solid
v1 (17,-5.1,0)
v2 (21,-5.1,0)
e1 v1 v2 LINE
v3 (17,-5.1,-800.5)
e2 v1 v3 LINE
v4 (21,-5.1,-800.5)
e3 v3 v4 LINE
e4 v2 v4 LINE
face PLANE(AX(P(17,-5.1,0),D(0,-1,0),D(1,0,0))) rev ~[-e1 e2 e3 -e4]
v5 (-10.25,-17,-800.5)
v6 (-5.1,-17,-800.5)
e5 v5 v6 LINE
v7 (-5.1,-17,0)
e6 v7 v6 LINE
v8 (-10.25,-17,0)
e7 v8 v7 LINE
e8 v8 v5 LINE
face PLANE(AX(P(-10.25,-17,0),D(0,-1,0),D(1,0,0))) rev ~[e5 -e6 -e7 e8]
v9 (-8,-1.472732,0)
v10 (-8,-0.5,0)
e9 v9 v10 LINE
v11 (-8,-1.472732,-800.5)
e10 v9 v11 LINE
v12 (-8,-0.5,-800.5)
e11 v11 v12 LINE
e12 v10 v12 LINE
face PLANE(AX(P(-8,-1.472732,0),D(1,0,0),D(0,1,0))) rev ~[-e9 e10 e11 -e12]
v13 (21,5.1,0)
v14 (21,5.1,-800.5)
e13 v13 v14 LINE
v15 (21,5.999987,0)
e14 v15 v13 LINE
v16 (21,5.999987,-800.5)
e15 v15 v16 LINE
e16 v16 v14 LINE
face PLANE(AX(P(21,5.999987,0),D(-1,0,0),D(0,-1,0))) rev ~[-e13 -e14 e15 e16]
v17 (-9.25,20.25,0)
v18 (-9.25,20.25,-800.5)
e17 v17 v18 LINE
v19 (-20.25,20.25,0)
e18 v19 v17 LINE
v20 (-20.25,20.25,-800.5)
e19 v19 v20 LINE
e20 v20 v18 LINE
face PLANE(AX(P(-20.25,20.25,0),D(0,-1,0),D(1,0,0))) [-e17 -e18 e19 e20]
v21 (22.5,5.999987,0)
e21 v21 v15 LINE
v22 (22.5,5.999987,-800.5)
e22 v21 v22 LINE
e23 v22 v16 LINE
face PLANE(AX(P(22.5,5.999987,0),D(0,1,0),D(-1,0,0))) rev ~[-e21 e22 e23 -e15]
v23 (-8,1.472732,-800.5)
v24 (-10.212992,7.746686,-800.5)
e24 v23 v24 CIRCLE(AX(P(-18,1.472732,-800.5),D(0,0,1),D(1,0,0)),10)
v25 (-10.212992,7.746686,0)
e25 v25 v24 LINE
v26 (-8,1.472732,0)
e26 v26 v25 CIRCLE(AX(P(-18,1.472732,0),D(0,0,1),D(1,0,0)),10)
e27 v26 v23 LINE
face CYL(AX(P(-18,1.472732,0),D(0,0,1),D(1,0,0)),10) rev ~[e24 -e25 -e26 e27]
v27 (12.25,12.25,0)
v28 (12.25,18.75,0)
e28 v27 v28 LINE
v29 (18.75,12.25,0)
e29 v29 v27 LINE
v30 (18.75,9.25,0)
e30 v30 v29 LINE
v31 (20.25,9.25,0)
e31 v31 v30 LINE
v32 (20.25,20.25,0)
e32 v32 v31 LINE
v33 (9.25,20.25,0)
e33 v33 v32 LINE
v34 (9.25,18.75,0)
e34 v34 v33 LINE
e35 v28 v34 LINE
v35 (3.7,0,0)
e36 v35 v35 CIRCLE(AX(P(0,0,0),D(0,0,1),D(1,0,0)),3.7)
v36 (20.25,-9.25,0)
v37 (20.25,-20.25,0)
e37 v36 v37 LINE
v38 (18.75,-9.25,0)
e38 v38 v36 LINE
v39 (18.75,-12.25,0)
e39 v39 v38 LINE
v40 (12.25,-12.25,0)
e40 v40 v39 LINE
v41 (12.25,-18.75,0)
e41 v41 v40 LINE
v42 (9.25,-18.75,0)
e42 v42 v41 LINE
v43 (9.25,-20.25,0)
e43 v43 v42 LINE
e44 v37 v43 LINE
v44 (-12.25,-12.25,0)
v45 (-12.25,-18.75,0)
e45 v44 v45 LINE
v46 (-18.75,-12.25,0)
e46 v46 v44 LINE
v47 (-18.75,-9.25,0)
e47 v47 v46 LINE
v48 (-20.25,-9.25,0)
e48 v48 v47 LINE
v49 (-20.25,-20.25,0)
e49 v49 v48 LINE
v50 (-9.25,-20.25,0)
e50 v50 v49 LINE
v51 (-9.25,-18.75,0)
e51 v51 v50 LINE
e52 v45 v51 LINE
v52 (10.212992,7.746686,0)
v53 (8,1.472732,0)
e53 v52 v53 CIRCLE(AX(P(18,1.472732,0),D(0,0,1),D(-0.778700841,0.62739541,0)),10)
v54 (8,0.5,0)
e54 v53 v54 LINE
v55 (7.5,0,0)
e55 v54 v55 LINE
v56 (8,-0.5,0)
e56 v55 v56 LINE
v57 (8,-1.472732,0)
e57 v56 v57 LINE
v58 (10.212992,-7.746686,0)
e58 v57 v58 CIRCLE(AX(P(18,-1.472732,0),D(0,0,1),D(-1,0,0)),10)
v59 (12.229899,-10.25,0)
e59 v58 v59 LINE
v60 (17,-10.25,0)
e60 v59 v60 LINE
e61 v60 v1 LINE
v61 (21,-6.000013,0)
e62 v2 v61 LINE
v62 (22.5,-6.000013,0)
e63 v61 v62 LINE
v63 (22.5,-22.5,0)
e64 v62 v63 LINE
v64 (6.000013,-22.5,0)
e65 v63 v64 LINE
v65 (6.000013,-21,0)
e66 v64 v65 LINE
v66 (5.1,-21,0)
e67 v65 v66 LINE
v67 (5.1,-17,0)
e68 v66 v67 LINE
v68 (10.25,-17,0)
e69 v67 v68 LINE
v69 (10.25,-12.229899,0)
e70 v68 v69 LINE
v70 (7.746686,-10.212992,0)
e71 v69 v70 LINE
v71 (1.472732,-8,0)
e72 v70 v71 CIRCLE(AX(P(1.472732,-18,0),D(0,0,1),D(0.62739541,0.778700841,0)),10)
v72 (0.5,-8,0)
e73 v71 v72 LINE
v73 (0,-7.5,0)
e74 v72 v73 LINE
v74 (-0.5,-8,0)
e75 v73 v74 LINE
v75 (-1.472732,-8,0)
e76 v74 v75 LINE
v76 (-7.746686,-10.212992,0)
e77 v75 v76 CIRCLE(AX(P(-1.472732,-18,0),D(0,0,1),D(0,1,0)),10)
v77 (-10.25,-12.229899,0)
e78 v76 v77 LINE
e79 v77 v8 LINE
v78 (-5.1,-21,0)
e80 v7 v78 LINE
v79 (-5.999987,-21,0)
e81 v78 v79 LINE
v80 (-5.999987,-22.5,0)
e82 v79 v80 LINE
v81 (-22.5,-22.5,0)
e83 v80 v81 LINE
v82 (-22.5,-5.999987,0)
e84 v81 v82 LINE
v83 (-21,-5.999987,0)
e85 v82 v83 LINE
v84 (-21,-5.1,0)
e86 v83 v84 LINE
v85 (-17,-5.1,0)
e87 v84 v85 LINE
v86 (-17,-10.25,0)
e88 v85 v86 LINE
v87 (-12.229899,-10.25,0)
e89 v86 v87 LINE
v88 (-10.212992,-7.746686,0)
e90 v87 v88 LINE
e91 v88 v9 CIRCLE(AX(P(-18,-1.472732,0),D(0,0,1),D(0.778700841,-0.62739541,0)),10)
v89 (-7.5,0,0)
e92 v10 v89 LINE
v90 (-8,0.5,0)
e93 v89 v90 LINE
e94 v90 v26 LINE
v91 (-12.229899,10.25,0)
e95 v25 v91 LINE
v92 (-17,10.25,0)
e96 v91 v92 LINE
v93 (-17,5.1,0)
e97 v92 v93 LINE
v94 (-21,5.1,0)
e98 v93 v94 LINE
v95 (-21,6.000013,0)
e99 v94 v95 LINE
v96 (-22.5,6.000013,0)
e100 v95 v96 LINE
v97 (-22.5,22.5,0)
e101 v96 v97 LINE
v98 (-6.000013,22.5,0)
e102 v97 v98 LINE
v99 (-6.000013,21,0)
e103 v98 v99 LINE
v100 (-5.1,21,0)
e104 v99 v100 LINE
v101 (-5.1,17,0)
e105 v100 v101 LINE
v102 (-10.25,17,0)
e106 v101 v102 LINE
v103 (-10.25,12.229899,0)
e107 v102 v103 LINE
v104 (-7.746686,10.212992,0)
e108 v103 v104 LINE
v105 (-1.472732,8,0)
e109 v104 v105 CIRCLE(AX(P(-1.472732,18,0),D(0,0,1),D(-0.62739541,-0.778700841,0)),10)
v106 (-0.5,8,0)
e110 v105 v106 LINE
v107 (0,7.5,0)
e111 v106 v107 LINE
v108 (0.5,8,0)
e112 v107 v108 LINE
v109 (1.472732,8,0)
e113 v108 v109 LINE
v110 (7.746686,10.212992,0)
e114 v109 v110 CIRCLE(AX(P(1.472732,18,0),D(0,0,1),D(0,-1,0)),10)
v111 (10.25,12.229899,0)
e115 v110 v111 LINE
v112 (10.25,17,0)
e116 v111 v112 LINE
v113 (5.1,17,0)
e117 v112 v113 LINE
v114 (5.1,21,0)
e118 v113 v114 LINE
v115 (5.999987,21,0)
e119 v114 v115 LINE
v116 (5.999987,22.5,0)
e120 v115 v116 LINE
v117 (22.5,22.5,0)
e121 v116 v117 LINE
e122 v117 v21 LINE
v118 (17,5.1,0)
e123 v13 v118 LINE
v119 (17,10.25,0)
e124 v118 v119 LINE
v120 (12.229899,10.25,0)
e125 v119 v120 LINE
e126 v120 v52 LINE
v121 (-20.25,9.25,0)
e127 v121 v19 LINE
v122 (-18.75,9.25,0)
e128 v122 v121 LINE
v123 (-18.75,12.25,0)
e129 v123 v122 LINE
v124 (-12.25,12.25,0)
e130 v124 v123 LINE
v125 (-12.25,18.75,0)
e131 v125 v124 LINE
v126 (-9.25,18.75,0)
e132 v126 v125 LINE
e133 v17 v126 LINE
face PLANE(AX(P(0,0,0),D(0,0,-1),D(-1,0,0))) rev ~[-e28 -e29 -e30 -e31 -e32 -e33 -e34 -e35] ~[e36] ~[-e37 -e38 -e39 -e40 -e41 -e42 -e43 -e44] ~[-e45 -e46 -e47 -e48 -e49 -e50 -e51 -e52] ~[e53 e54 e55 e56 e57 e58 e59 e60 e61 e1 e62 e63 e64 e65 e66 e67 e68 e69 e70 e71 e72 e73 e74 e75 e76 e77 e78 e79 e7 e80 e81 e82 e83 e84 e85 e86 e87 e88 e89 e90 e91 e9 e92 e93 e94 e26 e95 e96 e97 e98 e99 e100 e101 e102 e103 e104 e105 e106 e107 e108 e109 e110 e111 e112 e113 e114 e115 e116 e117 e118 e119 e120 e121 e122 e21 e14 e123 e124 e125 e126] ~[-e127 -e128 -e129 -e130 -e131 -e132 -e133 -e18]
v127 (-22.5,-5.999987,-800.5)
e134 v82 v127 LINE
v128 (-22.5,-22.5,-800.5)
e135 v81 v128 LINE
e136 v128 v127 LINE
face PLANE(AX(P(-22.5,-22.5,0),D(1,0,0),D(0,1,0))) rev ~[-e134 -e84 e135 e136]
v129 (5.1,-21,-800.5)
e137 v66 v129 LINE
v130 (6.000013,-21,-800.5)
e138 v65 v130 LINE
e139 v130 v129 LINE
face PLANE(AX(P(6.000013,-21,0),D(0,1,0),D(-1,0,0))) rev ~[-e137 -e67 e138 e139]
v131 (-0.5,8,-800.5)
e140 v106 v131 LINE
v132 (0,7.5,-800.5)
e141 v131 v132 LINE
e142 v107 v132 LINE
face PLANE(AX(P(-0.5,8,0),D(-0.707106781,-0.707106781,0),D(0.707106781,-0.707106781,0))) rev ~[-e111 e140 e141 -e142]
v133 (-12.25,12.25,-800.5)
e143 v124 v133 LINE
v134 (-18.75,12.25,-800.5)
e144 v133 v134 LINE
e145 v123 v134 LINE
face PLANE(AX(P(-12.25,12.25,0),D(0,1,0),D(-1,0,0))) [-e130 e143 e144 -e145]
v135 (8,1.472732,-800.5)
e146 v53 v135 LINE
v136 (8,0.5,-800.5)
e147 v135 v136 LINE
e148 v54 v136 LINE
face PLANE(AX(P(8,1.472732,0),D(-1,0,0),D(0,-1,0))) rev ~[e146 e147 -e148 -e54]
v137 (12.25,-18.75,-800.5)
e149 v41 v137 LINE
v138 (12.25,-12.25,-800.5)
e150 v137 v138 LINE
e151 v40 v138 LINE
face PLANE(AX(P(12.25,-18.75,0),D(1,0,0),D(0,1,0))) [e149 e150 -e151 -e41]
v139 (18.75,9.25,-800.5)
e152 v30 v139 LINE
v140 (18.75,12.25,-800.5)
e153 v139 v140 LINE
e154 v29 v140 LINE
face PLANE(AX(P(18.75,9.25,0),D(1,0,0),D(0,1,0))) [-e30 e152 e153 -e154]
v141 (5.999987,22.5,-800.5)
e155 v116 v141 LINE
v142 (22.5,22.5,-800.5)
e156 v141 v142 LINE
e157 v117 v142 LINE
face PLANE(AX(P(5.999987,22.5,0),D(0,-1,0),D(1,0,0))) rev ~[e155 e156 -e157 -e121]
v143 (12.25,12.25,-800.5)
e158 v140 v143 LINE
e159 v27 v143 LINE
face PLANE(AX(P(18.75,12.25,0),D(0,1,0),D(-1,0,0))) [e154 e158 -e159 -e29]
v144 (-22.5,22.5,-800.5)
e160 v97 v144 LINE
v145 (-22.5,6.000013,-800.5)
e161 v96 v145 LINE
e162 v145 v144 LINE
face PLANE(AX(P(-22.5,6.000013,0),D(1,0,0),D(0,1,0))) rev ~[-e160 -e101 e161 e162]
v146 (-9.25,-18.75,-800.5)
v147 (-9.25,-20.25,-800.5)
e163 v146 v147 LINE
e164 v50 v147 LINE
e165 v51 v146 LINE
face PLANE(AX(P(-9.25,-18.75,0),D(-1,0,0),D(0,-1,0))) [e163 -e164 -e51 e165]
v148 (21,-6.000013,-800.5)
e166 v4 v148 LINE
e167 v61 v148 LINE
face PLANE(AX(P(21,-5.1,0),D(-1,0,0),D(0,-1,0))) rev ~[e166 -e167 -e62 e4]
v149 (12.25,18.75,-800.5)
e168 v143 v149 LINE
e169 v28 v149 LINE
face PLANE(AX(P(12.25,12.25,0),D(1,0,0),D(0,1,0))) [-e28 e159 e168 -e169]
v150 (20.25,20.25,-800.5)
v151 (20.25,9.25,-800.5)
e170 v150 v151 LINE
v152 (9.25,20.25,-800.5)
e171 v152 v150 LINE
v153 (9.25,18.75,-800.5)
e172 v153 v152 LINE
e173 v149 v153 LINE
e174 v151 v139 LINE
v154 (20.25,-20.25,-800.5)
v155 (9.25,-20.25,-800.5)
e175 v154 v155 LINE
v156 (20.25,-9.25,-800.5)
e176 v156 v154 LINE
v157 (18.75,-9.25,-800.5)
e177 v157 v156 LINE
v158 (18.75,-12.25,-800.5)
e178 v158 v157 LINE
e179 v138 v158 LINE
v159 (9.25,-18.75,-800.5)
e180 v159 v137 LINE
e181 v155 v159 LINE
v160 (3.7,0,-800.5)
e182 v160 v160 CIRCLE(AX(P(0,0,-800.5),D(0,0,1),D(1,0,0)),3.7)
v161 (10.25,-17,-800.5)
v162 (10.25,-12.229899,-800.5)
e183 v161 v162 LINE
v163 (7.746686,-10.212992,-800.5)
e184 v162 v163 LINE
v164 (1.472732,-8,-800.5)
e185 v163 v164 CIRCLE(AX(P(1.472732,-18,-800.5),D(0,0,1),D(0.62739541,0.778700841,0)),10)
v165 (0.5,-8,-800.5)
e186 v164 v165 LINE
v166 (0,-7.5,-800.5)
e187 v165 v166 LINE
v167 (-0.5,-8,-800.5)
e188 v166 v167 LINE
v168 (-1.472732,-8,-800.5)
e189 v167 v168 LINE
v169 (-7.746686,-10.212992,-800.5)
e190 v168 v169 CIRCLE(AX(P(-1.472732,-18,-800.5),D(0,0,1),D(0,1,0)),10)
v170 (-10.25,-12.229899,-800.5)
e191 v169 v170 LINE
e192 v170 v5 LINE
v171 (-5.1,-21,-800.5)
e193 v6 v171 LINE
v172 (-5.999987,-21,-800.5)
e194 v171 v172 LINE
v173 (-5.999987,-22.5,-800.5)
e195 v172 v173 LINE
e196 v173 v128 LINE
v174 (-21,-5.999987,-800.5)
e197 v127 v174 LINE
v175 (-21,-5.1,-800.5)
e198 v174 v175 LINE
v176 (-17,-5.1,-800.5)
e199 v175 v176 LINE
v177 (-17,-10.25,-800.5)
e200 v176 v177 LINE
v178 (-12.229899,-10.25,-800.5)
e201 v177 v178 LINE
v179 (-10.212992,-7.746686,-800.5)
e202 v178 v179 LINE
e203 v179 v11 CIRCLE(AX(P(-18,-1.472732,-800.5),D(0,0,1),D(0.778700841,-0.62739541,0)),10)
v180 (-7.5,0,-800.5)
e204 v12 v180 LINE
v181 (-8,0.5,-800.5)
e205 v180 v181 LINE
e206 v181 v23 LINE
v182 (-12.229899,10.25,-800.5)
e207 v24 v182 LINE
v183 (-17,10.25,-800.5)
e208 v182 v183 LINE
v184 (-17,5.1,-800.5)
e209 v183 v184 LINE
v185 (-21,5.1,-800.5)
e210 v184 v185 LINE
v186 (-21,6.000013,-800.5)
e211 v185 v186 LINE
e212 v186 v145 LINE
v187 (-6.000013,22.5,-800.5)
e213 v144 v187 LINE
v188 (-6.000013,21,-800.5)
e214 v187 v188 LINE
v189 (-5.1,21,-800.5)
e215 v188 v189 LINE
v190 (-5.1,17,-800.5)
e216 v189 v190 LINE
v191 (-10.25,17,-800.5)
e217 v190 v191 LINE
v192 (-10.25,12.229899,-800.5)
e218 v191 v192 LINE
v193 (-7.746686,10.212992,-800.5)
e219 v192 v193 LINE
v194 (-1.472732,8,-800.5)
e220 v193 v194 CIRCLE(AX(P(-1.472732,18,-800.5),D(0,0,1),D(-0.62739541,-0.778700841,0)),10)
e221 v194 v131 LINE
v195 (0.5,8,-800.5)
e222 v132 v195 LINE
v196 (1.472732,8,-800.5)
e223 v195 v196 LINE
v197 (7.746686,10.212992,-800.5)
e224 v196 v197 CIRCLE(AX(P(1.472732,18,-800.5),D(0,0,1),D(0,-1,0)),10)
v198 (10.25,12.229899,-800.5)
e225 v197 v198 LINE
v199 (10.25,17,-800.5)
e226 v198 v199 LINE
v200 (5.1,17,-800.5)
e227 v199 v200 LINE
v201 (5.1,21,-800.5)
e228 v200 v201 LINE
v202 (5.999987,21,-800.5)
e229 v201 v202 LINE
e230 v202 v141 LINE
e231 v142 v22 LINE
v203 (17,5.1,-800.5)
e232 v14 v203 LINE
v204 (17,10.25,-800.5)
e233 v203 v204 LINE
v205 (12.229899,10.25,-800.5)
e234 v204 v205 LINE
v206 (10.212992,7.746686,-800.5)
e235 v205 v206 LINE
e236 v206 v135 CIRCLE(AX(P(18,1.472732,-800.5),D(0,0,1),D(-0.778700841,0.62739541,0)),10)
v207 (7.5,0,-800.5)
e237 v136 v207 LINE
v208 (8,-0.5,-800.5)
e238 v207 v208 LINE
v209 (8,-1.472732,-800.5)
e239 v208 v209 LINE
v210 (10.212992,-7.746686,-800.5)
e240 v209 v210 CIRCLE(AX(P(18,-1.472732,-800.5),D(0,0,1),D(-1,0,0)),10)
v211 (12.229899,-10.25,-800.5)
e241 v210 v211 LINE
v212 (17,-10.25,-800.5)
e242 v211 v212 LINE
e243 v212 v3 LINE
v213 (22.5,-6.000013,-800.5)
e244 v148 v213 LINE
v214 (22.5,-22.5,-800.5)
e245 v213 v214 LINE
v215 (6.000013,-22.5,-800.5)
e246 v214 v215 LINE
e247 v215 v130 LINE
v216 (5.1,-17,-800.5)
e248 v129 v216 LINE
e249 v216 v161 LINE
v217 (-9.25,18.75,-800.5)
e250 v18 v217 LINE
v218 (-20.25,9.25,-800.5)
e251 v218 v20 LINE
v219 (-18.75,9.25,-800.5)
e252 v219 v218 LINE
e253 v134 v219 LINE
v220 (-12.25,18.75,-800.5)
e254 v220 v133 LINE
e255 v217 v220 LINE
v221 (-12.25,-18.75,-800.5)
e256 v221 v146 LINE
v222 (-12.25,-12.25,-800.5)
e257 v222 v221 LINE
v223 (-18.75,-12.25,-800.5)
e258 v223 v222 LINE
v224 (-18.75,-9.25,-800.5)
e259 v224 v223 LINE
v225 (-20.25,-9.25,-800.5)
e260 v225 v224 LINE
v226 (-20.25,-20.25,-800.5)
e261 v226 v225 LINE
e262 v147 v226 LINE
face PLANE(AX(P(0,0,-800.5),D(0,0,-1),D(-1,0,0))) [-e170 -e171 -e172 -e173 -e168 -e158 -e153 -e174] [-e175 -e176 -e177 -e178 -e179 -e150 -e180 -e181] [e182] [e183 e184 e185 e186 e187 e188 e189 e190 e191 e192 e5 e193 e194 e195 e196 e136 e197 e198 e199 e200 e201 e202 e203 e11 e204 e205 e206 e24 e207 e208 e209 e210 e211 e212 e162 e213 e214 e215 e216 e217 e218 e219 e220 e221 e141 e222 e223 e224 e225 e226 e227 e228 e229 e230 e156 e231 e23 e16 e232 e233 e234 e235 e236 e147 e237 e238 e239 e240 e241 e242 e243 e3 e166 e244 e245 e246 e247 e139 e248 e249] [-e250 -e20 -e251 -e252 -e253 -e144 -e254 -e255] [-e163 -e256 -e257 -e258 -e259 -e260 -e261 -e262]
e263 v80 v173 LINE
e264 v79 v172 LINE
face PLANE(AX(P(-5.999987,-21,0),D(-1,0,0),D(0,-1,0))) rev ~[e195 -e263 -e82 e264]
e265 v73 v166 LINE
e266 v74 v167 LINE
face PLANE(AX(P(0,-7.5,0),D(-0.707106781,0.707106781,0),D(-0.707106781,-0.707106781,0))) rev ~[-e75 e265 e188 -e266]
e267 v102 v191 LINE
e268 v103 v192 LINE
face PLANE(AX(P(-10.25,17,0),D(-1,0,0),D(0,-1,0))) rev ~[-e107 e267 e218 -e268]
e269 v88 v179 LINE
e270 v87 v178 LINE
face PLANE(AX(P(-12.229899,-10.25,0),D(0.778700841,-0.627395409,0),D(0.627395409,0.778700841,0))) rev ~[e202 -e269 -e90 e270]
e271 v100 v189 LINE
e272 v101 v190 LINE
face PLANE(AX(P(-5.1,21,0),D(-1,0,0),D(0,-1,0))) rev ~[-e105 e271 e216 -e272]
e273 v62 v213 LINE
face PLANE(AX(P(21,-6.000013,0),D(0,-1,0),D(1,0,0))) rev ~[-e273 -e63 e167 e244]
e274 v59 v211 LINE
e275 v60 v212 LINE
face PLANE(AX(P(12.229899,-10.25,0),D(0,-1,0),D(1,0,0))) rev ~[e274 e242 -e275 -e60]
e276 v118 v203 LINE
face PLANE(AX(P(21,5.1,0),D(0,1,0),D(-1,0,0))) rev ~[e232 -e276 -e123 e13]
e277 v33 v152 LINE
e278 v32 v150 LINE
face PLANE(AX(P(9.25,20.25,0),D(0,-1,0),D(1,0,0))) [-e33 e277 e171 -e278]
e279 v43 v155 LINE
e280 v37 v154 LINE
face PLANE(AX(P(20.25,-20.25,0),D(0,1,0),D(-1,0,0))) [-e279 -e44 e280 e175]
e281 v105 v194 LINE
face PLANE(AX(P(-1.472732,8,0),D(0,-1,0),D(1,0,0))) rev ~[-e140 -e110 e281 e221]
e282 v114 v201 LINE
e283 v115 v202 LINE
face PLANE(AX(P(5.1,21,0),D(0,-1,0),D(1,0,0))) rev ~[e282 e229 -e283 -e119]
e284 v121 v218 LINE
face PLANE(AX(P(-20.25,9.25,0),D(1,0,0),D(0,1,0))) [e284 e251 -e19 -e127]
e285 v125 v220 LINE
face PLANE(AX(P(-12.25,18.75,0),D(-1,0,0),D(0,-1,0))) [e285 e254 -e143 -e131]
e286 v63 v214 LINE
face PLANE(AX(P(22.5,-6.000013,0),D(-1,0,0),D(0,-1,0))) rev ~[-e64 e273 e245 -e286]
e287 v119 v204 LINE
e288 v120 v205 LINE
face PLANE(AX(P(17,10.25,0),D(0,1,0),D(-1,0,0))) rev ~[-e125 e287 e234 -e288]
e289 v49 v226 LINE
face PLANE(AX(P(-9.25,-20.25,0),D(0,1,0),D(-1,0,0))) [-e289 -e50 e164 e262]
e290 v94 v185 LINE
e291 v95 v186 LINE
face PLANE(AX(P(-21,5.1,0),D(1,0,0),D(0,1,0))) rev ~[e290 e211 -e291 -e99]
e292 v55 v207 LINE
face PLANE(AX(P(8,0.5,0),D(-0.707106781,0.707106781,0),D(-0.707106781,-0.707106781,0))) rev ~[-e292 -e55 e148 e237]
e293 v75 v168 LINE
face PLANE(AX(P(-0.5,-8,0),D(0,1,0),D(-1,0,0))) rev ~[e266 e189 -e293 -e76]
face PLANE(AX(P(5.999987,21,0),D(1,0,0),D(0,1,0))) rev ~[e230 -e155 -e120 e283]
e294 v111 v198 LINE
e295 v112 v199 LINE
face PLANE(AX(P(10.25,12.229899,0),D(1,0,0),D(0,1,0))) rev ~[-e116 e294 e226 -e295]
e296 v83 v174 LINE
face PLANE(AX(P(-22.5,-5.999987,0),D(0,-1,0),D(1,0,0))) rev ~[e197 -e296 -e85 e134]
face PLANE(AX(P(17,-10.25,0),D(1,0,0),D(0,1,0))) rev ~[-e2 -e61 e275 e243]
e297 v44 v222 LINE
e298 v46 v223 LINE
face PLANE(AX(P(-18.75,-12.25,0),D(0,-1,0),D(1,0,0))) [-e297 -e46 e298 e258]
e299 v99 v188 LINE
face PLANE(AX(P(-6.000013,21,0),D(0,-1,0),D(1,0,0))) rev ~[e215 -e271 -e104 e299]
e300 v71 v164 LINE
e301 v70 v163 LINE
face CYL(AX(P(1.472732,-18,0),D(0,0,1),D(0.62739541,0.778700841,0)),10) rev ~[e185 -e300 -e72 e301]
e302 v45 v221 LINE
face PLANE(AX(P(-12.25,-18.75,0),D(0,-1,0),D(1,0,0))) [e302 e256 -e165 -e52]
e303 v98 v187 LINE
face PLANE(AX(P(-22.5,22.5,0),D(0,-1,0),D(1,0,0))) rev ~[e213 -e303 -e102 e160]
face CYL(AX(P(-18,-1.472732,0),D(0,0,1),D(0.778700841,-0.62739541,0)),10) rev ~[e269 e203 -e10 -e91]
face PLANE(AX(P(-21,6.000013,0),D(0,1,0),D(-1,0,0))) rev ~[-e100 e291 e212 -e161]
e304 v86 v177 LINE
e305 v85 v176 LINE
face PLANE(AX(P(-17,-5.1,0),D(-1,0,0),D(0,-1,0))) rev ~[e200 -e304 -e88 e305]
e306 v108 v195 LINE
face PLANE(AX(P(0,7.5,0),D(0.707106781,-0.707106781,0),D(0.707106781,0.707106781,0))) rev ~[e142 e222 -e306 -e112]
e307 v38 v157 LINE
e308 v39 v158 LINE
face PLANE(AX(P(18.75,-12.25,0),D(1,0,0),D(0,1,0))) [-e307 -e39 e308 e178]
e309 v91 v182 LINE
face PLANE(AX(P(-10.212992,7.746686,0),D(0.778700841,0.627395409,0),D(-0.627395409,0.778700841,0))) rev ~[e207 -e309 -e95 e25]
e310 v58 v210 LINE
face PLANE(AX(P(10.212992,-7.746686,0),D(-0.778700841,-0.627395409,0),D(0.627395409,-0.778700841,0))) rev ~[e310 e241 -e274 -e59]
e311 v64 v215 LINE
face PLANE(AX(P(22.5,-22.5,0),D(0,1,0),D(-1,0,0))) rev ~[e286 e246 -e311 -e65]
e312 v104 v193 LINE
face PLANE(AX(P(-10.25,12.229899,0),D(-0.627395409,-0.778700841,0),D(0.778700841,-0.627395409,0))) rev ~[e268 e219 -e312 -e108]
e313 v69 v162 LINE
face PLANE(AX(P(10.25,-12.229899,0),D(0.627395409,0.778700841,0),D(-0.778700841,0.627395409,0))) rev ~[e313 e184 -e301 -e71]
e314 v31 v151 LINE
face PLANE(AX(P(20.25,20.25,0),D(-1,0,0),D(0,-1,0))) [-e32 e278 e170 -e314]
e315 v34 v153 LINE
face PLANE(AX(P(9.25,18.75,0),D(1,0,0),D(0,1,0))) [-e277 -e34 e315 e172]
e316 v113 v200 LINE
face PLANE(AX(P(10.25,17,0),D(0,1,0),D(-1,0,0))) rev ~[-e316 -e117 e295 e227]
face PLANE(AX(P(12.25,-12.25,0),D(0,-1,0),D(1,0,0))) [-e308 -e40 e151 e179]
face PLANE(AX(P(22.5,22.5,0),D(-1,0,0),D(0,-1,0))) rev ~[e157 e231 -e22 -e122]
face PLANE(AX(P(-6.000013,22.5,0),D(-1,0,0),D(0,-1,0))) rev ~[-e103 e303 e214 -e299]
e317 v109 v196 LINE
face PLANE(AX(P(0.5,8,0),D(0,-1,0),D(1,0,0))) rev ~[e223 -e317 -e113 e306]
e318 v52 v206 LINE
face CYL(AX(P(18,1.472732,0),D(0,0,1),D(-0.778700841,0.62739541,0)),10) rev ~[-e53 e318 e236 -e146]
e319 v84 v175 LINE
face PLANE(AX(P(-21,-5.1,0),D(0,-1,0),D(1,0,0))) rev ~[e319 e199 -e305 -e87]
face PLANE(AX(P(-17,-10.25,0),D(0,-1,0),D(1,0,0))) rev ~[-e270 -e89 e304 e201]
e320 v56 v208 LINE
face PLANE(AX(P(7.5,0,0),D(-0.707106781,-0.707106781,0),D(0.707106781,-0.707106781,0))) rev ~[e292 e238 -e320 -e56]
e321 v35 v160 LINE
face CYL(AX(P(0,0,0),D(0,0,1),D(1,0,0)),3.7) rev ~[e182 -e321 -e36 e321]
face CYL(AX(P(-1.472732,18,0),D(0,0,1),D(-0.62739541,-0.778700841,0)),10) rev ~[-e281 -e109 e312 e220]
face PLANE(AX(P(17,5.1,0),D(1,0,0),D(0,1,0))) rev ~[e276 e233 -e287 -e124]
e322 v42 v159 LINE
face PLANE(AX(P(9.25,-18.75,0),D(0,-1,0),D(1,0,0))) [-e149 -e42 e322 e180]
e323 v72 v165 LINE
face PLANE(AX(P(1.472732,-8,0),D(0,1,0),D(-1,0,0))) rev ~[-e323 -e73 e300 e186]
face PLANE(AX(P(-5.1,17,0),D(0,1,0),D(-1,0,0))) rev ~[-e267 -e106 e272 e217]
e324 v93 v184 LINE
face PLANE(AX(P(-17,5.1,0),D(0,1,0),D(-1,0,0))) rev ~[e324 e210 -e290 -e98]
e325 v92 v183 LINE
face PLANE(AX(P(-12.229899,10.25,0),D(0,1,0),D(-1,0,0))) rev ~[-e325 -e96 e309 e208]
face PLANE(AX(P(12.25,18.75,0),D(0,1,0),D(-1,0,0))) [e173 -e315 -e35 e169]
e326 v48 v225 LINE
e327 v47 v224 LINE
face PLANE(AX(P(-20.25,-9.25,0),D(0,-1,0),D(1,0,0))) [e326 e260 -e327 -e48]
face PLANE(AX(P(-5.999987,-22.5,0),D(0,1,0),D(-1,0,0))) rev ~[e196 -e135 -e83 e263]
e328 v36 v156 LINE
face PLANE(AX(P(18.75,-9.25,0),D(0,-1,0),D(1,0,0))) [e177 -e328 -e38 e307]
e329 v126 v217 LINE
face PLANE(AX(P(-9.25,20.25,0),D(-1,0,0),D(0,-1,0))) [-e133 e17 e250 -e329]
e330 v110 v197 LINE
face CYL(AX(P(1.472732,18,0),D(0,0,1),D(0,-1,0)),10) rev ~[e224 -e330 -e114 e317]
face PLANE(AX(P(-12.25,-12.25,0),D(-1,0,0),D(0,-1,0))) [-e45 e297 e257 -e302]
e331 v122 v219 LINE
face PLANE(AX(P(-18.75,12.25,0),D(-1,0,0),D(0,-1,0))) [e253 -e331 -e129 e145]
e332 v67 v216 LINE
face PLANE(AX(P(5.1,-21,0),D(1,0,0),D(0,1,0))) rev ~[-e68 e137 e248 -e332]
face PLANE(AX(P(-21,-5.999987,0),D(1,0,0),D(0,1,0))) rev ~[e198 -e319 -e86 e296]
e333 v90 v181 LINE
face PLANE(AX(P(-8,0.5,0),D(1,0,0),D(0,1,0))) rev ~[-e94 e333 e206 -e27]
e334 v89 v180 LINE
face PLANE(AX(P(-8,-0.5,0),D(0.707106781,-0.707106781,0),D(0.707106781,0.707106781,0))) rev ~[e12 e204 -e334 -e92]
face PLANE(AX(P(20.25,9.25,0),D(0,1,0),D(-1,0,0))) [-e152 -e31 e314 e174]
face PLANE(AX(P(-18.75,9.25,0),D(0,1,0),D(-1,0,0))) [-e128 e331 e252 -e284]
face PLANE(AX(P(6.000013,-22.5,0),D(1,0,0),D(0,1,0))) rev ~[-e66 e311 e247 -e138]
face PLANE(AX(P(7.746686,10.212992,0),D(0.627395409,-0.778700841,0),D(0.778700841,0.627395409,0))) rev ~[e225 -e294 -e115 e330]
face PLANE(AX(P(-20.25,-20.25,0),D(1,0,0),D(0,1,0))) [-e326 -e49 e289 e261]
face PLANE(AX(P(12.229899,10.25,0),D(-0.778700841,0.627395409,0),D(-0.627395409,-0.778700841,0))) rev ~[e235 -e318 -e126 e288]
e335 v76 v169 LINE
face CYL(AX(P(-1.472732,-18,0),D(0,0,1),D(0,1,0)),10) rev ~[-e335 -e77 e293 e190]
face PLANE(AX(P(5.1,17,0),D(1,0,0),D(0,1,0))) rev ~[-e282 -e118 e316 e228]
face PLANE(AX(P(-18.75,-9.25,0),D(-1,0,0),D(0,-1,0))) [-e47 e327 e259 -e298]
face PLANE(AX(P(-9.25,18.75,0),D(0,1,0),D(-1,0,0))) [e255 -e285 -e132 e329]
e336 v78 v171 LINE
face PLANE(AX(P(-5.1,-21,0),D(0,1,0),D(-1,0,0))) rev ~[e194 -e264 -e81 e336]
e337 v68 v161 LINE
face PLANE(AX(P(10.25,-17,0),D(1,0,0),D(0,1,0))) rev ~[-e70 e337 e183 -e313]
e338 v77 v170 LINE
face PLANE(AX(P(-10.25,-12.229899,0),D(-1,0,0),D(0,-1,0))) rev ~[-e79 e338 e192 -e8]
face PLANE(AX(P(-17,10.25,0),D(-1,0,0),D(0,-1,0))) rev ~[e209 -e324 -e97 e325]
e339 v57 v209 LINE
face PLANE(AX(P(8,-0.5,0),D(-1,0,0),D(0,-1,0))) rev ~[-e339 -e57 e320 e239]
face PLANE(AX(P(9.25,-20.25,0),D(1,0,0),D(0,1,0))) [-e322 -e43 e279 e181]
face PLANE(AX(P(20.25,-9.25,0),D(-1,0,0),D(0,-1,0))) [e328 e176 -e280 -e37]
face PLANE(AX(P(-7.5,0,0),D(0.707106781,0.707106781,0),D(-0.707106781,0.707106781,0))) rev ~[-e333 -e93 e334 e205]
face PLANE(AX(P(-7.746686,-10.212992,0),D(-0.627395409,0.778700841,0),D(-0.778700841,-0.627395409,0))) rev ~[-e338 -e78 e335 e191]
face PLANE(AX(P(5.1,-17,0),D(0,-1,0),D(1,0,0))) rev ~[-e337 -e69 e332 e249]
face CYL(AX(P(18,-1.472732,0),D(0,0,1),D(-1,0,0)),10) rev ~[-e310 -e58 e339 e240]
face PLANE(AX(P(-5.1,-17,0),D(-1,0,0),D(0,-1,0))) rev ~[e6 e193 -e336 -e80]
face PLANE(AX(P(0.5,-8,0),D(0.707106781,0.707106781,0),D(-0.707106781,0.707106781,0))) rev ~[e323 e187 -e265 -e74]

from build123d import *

# Parameters (mm, degrees)
MODEL_R             = 3.7
BOSS_EXTRUDE1_DEPTH = 800.5


with BuildPart() as part:
    # Model → Boss-Extrude1 (new body)
    with BuildSketch(Plane.XY):
        with BuildLine():
            Line((0.5, 8), (1.472732261, 8))
            ThreePointArc((1.472732261, 8), (4.799135414, 8.56946226), (7.746686356, 10.212991588))
            Line((7.746686356, 10.212991588), (10.25, 12.229898987))
            Line((10.25, 12.229898987), (10.25, 17))
            Line((10.25, 17), (5.1, 17))
            Line((5.1, 17), (5.1, 21))
            Line((5.1, 21), (5.999986755, 21))
            Line((5.999986755, 21), (5.999986755, 22.5))
            Line((5.999986755, 22.5), (22.5, 22.5))
            Line((22.5, 22.5), (22.5, 5.999986755))
            Line((22.5, 5.999986755), (21, 5.999986755))
            Line((21, 5.999986755), (21, 5.1))
            Line((21, 5.1), (17, 5.1))
            Line((17, 5.1), (17, 10.25))
            Line((17, 10.25), (12.229898987, 10.25))
            Line((12.229898987, 10.25), (10.212991588, 7.746686356))
            ThreePointArc((10.212991588, 7.746686356), (8.56946226, 4.799135414), (8, 1.472732261))
            Line((8, 1.472732261), (8, 0.5))
            Line((8, 0.5), (7.5, 0))
            Line((7.5, 0), (8, -0.5))
            Line((8, -0.5), (8, -1.472732261))
            ThreePointArc((8, -1.472732261), (8.56946226, -4.799135414), (10.212991588, -7.746686356))
            Line((10.212991588, -7.746686356), (12.229898987, -10.25))
            Line((12.229898987, -10.25), (17, -10.25))
            Line((17, -10.25), (17, -5.1))
            Line((17, -5.1), (21, -5.1))
            Line((21, -5.1), (21, -6.000013245))
            Line((21, -6.000013245), (22.5, -6.000013245))
            Line((22.5, -6.000013245), (22.5, -22.5))
            Line((22.5, -22.5), (6.000013245, -22.5))
            Line((6.000013245, -22.5), (6.000013245, -21))
            Line((6.000013245, -21), (5.1, -21))
            Line((5.1, -21), (5.1, -17))
            Line((5.1, -17), (10.25, -17))
            Line((10.25, -17), (10.25, -12.229898987))
            Line((10.25, -12.229898987), (7.746686356, -10.212991588))
            ThreePointArc((7.746686356, -10.212991588), (4.799135414, -8.56946226), (1.472732261, -8))
            Line((1.472732261, -8), (0.5, -8))
            Line((0.5, -8), (0, -7.5))
            Line((0, -7.5), (-0.5, -8))
            Line((-0.5, -8), (-1.472732261, -8))
            ThreePointArc((-1.472732261, -8), (-4.799135414, -8.56946226), (-7.746686356, -10.212991588))
            Line((-7.746686356, -10.212991588), (-10.25, -12.229898987))
            Line((-10.25, -12.229898987), (-10.25, -17))
            Line((-10.25, -17), (-5.1, -17))
            Line((-5.1, -17), (-5.1, -21))
            Line((-5.1, -21), (-5.999986755, -21))
            Line((-5.999986755, -21), (-5.999986755, -22.5))
            Line((-5.999986755, -22.5), (-22.5, -22.5))
            Line((-22.5, -22.5), (-22.5, -5.999986755))
            Line((-22.5, -5.999986755), (-21, -5.999986755))
            Line((-21, -5.999986755), (-21, -5.1))
            Line((-21, -5.1), (-17, -5.1))
            Line((-17, -5.1), (-17, -10.25))
            Line((-17, -10.25), (-12.229898987, -10.25))
            Line((-12.229898987, -10.25), (-10.212991588, -7.746686356))
            ThreePointArc((-10.212991588, -7.746686356), (-8.56946226, -4.799135414), (-8, -1.472732261))
            Line((-8, -1.472732261), (-8, -0.5))
            Line((-8, -0.5), (-7.5, 0))
            Line((-7.5, 0), (-8, 0.5))
            Line((-8, 0.5), (-8, 1.472732261))
            ThreePointArc((-8, 1.472732261), (-8.56946226, 4.799135414), (-10.212991588, 7.746686356))
            Line((-10.212991588, 7.746686356), (-12.229898987, 10.25))
            Line((-12.229898987, 10.25), (-17, 10.25))
            Line((-17, 10.25), (-17, 5.1))
            Line((-17, 5.1), (-21, 5.1))
            Line((-21, 5.1), (-21, 6.000013245))
            Line((-21, 6.000013245), (-22.5, 6.000013245))
            Line((-22.5, 6.000013245), (-22.5, 22.5))
            Line((-22.5, 22.5), (-6.000013245, 22.5))
            Line((-6.000013245, 22.5), (-6.000013245, 21))
            Line((-6.000013245, 21), (-5.1, 21))
            Line((-5.1, 21), (-5.1, 17))
            Line((-5.1, 17), (-10.25, 17))
            Line((-10.25, 17), (-10.25, 12.229898987))
            Line((-10.25, 12.229898987), (-7.746686356, 10.212991588))
            ThreePointArc((-7.746686356, 10.212991588), (-4.799135414, 8.56946226), (-1.472732261, 8))
            Line((-1.472732261, 8), (-0.5, 8))
            Line((-0.5, 8), (0, 7.5))
            Line((0, 7.5), (0.5, 8))
        make_face()
        Circle(MODEL_R, mode=Mode.SUBTRACT)
        Polygon((20.25, -9.25), (20.25, -20.25), (9.25, -20.25), (9.25, -18.75), (12.25, -18.75), (12.25, -12.25), (18.75, -12.25), (18.75, -9.25), align=None, mode=Mode.SUBTRACT)
        Polygon((9.25, 20.25), (20.25, 20.25), (20.25, 9.25), (18.75, 9.25), (18.75, 12.25), (12.25, 12.25), (12.25, 18.75), (9.25, 18.75), align=None, mode=Mode.SUBTRACT)
        Polygon((-9.25, -20.25), (-20.25, -20.25), (-20.25, -9.25), (-18.75, -9.25), (-18.75, -12.25), (-12.25, -12.25), (-12.25, -18.75), (-9.25, -18.75), align=None, mode=Mode.SUBTRACT)
        Polygon((-20.25, 20.25), (-9.25, 20.25), (-9.25, 18.75), (-12.25, 18.75), (-12.25, 12.25), (-18.75, 12.25), (-18.75, 9.25), (-20.25, 9.25), align=None, mode=Mode.SUBTRACT)
    extrude(amount=-BOSS_EXTRUDE1_DEPTH)


solid = part.part
